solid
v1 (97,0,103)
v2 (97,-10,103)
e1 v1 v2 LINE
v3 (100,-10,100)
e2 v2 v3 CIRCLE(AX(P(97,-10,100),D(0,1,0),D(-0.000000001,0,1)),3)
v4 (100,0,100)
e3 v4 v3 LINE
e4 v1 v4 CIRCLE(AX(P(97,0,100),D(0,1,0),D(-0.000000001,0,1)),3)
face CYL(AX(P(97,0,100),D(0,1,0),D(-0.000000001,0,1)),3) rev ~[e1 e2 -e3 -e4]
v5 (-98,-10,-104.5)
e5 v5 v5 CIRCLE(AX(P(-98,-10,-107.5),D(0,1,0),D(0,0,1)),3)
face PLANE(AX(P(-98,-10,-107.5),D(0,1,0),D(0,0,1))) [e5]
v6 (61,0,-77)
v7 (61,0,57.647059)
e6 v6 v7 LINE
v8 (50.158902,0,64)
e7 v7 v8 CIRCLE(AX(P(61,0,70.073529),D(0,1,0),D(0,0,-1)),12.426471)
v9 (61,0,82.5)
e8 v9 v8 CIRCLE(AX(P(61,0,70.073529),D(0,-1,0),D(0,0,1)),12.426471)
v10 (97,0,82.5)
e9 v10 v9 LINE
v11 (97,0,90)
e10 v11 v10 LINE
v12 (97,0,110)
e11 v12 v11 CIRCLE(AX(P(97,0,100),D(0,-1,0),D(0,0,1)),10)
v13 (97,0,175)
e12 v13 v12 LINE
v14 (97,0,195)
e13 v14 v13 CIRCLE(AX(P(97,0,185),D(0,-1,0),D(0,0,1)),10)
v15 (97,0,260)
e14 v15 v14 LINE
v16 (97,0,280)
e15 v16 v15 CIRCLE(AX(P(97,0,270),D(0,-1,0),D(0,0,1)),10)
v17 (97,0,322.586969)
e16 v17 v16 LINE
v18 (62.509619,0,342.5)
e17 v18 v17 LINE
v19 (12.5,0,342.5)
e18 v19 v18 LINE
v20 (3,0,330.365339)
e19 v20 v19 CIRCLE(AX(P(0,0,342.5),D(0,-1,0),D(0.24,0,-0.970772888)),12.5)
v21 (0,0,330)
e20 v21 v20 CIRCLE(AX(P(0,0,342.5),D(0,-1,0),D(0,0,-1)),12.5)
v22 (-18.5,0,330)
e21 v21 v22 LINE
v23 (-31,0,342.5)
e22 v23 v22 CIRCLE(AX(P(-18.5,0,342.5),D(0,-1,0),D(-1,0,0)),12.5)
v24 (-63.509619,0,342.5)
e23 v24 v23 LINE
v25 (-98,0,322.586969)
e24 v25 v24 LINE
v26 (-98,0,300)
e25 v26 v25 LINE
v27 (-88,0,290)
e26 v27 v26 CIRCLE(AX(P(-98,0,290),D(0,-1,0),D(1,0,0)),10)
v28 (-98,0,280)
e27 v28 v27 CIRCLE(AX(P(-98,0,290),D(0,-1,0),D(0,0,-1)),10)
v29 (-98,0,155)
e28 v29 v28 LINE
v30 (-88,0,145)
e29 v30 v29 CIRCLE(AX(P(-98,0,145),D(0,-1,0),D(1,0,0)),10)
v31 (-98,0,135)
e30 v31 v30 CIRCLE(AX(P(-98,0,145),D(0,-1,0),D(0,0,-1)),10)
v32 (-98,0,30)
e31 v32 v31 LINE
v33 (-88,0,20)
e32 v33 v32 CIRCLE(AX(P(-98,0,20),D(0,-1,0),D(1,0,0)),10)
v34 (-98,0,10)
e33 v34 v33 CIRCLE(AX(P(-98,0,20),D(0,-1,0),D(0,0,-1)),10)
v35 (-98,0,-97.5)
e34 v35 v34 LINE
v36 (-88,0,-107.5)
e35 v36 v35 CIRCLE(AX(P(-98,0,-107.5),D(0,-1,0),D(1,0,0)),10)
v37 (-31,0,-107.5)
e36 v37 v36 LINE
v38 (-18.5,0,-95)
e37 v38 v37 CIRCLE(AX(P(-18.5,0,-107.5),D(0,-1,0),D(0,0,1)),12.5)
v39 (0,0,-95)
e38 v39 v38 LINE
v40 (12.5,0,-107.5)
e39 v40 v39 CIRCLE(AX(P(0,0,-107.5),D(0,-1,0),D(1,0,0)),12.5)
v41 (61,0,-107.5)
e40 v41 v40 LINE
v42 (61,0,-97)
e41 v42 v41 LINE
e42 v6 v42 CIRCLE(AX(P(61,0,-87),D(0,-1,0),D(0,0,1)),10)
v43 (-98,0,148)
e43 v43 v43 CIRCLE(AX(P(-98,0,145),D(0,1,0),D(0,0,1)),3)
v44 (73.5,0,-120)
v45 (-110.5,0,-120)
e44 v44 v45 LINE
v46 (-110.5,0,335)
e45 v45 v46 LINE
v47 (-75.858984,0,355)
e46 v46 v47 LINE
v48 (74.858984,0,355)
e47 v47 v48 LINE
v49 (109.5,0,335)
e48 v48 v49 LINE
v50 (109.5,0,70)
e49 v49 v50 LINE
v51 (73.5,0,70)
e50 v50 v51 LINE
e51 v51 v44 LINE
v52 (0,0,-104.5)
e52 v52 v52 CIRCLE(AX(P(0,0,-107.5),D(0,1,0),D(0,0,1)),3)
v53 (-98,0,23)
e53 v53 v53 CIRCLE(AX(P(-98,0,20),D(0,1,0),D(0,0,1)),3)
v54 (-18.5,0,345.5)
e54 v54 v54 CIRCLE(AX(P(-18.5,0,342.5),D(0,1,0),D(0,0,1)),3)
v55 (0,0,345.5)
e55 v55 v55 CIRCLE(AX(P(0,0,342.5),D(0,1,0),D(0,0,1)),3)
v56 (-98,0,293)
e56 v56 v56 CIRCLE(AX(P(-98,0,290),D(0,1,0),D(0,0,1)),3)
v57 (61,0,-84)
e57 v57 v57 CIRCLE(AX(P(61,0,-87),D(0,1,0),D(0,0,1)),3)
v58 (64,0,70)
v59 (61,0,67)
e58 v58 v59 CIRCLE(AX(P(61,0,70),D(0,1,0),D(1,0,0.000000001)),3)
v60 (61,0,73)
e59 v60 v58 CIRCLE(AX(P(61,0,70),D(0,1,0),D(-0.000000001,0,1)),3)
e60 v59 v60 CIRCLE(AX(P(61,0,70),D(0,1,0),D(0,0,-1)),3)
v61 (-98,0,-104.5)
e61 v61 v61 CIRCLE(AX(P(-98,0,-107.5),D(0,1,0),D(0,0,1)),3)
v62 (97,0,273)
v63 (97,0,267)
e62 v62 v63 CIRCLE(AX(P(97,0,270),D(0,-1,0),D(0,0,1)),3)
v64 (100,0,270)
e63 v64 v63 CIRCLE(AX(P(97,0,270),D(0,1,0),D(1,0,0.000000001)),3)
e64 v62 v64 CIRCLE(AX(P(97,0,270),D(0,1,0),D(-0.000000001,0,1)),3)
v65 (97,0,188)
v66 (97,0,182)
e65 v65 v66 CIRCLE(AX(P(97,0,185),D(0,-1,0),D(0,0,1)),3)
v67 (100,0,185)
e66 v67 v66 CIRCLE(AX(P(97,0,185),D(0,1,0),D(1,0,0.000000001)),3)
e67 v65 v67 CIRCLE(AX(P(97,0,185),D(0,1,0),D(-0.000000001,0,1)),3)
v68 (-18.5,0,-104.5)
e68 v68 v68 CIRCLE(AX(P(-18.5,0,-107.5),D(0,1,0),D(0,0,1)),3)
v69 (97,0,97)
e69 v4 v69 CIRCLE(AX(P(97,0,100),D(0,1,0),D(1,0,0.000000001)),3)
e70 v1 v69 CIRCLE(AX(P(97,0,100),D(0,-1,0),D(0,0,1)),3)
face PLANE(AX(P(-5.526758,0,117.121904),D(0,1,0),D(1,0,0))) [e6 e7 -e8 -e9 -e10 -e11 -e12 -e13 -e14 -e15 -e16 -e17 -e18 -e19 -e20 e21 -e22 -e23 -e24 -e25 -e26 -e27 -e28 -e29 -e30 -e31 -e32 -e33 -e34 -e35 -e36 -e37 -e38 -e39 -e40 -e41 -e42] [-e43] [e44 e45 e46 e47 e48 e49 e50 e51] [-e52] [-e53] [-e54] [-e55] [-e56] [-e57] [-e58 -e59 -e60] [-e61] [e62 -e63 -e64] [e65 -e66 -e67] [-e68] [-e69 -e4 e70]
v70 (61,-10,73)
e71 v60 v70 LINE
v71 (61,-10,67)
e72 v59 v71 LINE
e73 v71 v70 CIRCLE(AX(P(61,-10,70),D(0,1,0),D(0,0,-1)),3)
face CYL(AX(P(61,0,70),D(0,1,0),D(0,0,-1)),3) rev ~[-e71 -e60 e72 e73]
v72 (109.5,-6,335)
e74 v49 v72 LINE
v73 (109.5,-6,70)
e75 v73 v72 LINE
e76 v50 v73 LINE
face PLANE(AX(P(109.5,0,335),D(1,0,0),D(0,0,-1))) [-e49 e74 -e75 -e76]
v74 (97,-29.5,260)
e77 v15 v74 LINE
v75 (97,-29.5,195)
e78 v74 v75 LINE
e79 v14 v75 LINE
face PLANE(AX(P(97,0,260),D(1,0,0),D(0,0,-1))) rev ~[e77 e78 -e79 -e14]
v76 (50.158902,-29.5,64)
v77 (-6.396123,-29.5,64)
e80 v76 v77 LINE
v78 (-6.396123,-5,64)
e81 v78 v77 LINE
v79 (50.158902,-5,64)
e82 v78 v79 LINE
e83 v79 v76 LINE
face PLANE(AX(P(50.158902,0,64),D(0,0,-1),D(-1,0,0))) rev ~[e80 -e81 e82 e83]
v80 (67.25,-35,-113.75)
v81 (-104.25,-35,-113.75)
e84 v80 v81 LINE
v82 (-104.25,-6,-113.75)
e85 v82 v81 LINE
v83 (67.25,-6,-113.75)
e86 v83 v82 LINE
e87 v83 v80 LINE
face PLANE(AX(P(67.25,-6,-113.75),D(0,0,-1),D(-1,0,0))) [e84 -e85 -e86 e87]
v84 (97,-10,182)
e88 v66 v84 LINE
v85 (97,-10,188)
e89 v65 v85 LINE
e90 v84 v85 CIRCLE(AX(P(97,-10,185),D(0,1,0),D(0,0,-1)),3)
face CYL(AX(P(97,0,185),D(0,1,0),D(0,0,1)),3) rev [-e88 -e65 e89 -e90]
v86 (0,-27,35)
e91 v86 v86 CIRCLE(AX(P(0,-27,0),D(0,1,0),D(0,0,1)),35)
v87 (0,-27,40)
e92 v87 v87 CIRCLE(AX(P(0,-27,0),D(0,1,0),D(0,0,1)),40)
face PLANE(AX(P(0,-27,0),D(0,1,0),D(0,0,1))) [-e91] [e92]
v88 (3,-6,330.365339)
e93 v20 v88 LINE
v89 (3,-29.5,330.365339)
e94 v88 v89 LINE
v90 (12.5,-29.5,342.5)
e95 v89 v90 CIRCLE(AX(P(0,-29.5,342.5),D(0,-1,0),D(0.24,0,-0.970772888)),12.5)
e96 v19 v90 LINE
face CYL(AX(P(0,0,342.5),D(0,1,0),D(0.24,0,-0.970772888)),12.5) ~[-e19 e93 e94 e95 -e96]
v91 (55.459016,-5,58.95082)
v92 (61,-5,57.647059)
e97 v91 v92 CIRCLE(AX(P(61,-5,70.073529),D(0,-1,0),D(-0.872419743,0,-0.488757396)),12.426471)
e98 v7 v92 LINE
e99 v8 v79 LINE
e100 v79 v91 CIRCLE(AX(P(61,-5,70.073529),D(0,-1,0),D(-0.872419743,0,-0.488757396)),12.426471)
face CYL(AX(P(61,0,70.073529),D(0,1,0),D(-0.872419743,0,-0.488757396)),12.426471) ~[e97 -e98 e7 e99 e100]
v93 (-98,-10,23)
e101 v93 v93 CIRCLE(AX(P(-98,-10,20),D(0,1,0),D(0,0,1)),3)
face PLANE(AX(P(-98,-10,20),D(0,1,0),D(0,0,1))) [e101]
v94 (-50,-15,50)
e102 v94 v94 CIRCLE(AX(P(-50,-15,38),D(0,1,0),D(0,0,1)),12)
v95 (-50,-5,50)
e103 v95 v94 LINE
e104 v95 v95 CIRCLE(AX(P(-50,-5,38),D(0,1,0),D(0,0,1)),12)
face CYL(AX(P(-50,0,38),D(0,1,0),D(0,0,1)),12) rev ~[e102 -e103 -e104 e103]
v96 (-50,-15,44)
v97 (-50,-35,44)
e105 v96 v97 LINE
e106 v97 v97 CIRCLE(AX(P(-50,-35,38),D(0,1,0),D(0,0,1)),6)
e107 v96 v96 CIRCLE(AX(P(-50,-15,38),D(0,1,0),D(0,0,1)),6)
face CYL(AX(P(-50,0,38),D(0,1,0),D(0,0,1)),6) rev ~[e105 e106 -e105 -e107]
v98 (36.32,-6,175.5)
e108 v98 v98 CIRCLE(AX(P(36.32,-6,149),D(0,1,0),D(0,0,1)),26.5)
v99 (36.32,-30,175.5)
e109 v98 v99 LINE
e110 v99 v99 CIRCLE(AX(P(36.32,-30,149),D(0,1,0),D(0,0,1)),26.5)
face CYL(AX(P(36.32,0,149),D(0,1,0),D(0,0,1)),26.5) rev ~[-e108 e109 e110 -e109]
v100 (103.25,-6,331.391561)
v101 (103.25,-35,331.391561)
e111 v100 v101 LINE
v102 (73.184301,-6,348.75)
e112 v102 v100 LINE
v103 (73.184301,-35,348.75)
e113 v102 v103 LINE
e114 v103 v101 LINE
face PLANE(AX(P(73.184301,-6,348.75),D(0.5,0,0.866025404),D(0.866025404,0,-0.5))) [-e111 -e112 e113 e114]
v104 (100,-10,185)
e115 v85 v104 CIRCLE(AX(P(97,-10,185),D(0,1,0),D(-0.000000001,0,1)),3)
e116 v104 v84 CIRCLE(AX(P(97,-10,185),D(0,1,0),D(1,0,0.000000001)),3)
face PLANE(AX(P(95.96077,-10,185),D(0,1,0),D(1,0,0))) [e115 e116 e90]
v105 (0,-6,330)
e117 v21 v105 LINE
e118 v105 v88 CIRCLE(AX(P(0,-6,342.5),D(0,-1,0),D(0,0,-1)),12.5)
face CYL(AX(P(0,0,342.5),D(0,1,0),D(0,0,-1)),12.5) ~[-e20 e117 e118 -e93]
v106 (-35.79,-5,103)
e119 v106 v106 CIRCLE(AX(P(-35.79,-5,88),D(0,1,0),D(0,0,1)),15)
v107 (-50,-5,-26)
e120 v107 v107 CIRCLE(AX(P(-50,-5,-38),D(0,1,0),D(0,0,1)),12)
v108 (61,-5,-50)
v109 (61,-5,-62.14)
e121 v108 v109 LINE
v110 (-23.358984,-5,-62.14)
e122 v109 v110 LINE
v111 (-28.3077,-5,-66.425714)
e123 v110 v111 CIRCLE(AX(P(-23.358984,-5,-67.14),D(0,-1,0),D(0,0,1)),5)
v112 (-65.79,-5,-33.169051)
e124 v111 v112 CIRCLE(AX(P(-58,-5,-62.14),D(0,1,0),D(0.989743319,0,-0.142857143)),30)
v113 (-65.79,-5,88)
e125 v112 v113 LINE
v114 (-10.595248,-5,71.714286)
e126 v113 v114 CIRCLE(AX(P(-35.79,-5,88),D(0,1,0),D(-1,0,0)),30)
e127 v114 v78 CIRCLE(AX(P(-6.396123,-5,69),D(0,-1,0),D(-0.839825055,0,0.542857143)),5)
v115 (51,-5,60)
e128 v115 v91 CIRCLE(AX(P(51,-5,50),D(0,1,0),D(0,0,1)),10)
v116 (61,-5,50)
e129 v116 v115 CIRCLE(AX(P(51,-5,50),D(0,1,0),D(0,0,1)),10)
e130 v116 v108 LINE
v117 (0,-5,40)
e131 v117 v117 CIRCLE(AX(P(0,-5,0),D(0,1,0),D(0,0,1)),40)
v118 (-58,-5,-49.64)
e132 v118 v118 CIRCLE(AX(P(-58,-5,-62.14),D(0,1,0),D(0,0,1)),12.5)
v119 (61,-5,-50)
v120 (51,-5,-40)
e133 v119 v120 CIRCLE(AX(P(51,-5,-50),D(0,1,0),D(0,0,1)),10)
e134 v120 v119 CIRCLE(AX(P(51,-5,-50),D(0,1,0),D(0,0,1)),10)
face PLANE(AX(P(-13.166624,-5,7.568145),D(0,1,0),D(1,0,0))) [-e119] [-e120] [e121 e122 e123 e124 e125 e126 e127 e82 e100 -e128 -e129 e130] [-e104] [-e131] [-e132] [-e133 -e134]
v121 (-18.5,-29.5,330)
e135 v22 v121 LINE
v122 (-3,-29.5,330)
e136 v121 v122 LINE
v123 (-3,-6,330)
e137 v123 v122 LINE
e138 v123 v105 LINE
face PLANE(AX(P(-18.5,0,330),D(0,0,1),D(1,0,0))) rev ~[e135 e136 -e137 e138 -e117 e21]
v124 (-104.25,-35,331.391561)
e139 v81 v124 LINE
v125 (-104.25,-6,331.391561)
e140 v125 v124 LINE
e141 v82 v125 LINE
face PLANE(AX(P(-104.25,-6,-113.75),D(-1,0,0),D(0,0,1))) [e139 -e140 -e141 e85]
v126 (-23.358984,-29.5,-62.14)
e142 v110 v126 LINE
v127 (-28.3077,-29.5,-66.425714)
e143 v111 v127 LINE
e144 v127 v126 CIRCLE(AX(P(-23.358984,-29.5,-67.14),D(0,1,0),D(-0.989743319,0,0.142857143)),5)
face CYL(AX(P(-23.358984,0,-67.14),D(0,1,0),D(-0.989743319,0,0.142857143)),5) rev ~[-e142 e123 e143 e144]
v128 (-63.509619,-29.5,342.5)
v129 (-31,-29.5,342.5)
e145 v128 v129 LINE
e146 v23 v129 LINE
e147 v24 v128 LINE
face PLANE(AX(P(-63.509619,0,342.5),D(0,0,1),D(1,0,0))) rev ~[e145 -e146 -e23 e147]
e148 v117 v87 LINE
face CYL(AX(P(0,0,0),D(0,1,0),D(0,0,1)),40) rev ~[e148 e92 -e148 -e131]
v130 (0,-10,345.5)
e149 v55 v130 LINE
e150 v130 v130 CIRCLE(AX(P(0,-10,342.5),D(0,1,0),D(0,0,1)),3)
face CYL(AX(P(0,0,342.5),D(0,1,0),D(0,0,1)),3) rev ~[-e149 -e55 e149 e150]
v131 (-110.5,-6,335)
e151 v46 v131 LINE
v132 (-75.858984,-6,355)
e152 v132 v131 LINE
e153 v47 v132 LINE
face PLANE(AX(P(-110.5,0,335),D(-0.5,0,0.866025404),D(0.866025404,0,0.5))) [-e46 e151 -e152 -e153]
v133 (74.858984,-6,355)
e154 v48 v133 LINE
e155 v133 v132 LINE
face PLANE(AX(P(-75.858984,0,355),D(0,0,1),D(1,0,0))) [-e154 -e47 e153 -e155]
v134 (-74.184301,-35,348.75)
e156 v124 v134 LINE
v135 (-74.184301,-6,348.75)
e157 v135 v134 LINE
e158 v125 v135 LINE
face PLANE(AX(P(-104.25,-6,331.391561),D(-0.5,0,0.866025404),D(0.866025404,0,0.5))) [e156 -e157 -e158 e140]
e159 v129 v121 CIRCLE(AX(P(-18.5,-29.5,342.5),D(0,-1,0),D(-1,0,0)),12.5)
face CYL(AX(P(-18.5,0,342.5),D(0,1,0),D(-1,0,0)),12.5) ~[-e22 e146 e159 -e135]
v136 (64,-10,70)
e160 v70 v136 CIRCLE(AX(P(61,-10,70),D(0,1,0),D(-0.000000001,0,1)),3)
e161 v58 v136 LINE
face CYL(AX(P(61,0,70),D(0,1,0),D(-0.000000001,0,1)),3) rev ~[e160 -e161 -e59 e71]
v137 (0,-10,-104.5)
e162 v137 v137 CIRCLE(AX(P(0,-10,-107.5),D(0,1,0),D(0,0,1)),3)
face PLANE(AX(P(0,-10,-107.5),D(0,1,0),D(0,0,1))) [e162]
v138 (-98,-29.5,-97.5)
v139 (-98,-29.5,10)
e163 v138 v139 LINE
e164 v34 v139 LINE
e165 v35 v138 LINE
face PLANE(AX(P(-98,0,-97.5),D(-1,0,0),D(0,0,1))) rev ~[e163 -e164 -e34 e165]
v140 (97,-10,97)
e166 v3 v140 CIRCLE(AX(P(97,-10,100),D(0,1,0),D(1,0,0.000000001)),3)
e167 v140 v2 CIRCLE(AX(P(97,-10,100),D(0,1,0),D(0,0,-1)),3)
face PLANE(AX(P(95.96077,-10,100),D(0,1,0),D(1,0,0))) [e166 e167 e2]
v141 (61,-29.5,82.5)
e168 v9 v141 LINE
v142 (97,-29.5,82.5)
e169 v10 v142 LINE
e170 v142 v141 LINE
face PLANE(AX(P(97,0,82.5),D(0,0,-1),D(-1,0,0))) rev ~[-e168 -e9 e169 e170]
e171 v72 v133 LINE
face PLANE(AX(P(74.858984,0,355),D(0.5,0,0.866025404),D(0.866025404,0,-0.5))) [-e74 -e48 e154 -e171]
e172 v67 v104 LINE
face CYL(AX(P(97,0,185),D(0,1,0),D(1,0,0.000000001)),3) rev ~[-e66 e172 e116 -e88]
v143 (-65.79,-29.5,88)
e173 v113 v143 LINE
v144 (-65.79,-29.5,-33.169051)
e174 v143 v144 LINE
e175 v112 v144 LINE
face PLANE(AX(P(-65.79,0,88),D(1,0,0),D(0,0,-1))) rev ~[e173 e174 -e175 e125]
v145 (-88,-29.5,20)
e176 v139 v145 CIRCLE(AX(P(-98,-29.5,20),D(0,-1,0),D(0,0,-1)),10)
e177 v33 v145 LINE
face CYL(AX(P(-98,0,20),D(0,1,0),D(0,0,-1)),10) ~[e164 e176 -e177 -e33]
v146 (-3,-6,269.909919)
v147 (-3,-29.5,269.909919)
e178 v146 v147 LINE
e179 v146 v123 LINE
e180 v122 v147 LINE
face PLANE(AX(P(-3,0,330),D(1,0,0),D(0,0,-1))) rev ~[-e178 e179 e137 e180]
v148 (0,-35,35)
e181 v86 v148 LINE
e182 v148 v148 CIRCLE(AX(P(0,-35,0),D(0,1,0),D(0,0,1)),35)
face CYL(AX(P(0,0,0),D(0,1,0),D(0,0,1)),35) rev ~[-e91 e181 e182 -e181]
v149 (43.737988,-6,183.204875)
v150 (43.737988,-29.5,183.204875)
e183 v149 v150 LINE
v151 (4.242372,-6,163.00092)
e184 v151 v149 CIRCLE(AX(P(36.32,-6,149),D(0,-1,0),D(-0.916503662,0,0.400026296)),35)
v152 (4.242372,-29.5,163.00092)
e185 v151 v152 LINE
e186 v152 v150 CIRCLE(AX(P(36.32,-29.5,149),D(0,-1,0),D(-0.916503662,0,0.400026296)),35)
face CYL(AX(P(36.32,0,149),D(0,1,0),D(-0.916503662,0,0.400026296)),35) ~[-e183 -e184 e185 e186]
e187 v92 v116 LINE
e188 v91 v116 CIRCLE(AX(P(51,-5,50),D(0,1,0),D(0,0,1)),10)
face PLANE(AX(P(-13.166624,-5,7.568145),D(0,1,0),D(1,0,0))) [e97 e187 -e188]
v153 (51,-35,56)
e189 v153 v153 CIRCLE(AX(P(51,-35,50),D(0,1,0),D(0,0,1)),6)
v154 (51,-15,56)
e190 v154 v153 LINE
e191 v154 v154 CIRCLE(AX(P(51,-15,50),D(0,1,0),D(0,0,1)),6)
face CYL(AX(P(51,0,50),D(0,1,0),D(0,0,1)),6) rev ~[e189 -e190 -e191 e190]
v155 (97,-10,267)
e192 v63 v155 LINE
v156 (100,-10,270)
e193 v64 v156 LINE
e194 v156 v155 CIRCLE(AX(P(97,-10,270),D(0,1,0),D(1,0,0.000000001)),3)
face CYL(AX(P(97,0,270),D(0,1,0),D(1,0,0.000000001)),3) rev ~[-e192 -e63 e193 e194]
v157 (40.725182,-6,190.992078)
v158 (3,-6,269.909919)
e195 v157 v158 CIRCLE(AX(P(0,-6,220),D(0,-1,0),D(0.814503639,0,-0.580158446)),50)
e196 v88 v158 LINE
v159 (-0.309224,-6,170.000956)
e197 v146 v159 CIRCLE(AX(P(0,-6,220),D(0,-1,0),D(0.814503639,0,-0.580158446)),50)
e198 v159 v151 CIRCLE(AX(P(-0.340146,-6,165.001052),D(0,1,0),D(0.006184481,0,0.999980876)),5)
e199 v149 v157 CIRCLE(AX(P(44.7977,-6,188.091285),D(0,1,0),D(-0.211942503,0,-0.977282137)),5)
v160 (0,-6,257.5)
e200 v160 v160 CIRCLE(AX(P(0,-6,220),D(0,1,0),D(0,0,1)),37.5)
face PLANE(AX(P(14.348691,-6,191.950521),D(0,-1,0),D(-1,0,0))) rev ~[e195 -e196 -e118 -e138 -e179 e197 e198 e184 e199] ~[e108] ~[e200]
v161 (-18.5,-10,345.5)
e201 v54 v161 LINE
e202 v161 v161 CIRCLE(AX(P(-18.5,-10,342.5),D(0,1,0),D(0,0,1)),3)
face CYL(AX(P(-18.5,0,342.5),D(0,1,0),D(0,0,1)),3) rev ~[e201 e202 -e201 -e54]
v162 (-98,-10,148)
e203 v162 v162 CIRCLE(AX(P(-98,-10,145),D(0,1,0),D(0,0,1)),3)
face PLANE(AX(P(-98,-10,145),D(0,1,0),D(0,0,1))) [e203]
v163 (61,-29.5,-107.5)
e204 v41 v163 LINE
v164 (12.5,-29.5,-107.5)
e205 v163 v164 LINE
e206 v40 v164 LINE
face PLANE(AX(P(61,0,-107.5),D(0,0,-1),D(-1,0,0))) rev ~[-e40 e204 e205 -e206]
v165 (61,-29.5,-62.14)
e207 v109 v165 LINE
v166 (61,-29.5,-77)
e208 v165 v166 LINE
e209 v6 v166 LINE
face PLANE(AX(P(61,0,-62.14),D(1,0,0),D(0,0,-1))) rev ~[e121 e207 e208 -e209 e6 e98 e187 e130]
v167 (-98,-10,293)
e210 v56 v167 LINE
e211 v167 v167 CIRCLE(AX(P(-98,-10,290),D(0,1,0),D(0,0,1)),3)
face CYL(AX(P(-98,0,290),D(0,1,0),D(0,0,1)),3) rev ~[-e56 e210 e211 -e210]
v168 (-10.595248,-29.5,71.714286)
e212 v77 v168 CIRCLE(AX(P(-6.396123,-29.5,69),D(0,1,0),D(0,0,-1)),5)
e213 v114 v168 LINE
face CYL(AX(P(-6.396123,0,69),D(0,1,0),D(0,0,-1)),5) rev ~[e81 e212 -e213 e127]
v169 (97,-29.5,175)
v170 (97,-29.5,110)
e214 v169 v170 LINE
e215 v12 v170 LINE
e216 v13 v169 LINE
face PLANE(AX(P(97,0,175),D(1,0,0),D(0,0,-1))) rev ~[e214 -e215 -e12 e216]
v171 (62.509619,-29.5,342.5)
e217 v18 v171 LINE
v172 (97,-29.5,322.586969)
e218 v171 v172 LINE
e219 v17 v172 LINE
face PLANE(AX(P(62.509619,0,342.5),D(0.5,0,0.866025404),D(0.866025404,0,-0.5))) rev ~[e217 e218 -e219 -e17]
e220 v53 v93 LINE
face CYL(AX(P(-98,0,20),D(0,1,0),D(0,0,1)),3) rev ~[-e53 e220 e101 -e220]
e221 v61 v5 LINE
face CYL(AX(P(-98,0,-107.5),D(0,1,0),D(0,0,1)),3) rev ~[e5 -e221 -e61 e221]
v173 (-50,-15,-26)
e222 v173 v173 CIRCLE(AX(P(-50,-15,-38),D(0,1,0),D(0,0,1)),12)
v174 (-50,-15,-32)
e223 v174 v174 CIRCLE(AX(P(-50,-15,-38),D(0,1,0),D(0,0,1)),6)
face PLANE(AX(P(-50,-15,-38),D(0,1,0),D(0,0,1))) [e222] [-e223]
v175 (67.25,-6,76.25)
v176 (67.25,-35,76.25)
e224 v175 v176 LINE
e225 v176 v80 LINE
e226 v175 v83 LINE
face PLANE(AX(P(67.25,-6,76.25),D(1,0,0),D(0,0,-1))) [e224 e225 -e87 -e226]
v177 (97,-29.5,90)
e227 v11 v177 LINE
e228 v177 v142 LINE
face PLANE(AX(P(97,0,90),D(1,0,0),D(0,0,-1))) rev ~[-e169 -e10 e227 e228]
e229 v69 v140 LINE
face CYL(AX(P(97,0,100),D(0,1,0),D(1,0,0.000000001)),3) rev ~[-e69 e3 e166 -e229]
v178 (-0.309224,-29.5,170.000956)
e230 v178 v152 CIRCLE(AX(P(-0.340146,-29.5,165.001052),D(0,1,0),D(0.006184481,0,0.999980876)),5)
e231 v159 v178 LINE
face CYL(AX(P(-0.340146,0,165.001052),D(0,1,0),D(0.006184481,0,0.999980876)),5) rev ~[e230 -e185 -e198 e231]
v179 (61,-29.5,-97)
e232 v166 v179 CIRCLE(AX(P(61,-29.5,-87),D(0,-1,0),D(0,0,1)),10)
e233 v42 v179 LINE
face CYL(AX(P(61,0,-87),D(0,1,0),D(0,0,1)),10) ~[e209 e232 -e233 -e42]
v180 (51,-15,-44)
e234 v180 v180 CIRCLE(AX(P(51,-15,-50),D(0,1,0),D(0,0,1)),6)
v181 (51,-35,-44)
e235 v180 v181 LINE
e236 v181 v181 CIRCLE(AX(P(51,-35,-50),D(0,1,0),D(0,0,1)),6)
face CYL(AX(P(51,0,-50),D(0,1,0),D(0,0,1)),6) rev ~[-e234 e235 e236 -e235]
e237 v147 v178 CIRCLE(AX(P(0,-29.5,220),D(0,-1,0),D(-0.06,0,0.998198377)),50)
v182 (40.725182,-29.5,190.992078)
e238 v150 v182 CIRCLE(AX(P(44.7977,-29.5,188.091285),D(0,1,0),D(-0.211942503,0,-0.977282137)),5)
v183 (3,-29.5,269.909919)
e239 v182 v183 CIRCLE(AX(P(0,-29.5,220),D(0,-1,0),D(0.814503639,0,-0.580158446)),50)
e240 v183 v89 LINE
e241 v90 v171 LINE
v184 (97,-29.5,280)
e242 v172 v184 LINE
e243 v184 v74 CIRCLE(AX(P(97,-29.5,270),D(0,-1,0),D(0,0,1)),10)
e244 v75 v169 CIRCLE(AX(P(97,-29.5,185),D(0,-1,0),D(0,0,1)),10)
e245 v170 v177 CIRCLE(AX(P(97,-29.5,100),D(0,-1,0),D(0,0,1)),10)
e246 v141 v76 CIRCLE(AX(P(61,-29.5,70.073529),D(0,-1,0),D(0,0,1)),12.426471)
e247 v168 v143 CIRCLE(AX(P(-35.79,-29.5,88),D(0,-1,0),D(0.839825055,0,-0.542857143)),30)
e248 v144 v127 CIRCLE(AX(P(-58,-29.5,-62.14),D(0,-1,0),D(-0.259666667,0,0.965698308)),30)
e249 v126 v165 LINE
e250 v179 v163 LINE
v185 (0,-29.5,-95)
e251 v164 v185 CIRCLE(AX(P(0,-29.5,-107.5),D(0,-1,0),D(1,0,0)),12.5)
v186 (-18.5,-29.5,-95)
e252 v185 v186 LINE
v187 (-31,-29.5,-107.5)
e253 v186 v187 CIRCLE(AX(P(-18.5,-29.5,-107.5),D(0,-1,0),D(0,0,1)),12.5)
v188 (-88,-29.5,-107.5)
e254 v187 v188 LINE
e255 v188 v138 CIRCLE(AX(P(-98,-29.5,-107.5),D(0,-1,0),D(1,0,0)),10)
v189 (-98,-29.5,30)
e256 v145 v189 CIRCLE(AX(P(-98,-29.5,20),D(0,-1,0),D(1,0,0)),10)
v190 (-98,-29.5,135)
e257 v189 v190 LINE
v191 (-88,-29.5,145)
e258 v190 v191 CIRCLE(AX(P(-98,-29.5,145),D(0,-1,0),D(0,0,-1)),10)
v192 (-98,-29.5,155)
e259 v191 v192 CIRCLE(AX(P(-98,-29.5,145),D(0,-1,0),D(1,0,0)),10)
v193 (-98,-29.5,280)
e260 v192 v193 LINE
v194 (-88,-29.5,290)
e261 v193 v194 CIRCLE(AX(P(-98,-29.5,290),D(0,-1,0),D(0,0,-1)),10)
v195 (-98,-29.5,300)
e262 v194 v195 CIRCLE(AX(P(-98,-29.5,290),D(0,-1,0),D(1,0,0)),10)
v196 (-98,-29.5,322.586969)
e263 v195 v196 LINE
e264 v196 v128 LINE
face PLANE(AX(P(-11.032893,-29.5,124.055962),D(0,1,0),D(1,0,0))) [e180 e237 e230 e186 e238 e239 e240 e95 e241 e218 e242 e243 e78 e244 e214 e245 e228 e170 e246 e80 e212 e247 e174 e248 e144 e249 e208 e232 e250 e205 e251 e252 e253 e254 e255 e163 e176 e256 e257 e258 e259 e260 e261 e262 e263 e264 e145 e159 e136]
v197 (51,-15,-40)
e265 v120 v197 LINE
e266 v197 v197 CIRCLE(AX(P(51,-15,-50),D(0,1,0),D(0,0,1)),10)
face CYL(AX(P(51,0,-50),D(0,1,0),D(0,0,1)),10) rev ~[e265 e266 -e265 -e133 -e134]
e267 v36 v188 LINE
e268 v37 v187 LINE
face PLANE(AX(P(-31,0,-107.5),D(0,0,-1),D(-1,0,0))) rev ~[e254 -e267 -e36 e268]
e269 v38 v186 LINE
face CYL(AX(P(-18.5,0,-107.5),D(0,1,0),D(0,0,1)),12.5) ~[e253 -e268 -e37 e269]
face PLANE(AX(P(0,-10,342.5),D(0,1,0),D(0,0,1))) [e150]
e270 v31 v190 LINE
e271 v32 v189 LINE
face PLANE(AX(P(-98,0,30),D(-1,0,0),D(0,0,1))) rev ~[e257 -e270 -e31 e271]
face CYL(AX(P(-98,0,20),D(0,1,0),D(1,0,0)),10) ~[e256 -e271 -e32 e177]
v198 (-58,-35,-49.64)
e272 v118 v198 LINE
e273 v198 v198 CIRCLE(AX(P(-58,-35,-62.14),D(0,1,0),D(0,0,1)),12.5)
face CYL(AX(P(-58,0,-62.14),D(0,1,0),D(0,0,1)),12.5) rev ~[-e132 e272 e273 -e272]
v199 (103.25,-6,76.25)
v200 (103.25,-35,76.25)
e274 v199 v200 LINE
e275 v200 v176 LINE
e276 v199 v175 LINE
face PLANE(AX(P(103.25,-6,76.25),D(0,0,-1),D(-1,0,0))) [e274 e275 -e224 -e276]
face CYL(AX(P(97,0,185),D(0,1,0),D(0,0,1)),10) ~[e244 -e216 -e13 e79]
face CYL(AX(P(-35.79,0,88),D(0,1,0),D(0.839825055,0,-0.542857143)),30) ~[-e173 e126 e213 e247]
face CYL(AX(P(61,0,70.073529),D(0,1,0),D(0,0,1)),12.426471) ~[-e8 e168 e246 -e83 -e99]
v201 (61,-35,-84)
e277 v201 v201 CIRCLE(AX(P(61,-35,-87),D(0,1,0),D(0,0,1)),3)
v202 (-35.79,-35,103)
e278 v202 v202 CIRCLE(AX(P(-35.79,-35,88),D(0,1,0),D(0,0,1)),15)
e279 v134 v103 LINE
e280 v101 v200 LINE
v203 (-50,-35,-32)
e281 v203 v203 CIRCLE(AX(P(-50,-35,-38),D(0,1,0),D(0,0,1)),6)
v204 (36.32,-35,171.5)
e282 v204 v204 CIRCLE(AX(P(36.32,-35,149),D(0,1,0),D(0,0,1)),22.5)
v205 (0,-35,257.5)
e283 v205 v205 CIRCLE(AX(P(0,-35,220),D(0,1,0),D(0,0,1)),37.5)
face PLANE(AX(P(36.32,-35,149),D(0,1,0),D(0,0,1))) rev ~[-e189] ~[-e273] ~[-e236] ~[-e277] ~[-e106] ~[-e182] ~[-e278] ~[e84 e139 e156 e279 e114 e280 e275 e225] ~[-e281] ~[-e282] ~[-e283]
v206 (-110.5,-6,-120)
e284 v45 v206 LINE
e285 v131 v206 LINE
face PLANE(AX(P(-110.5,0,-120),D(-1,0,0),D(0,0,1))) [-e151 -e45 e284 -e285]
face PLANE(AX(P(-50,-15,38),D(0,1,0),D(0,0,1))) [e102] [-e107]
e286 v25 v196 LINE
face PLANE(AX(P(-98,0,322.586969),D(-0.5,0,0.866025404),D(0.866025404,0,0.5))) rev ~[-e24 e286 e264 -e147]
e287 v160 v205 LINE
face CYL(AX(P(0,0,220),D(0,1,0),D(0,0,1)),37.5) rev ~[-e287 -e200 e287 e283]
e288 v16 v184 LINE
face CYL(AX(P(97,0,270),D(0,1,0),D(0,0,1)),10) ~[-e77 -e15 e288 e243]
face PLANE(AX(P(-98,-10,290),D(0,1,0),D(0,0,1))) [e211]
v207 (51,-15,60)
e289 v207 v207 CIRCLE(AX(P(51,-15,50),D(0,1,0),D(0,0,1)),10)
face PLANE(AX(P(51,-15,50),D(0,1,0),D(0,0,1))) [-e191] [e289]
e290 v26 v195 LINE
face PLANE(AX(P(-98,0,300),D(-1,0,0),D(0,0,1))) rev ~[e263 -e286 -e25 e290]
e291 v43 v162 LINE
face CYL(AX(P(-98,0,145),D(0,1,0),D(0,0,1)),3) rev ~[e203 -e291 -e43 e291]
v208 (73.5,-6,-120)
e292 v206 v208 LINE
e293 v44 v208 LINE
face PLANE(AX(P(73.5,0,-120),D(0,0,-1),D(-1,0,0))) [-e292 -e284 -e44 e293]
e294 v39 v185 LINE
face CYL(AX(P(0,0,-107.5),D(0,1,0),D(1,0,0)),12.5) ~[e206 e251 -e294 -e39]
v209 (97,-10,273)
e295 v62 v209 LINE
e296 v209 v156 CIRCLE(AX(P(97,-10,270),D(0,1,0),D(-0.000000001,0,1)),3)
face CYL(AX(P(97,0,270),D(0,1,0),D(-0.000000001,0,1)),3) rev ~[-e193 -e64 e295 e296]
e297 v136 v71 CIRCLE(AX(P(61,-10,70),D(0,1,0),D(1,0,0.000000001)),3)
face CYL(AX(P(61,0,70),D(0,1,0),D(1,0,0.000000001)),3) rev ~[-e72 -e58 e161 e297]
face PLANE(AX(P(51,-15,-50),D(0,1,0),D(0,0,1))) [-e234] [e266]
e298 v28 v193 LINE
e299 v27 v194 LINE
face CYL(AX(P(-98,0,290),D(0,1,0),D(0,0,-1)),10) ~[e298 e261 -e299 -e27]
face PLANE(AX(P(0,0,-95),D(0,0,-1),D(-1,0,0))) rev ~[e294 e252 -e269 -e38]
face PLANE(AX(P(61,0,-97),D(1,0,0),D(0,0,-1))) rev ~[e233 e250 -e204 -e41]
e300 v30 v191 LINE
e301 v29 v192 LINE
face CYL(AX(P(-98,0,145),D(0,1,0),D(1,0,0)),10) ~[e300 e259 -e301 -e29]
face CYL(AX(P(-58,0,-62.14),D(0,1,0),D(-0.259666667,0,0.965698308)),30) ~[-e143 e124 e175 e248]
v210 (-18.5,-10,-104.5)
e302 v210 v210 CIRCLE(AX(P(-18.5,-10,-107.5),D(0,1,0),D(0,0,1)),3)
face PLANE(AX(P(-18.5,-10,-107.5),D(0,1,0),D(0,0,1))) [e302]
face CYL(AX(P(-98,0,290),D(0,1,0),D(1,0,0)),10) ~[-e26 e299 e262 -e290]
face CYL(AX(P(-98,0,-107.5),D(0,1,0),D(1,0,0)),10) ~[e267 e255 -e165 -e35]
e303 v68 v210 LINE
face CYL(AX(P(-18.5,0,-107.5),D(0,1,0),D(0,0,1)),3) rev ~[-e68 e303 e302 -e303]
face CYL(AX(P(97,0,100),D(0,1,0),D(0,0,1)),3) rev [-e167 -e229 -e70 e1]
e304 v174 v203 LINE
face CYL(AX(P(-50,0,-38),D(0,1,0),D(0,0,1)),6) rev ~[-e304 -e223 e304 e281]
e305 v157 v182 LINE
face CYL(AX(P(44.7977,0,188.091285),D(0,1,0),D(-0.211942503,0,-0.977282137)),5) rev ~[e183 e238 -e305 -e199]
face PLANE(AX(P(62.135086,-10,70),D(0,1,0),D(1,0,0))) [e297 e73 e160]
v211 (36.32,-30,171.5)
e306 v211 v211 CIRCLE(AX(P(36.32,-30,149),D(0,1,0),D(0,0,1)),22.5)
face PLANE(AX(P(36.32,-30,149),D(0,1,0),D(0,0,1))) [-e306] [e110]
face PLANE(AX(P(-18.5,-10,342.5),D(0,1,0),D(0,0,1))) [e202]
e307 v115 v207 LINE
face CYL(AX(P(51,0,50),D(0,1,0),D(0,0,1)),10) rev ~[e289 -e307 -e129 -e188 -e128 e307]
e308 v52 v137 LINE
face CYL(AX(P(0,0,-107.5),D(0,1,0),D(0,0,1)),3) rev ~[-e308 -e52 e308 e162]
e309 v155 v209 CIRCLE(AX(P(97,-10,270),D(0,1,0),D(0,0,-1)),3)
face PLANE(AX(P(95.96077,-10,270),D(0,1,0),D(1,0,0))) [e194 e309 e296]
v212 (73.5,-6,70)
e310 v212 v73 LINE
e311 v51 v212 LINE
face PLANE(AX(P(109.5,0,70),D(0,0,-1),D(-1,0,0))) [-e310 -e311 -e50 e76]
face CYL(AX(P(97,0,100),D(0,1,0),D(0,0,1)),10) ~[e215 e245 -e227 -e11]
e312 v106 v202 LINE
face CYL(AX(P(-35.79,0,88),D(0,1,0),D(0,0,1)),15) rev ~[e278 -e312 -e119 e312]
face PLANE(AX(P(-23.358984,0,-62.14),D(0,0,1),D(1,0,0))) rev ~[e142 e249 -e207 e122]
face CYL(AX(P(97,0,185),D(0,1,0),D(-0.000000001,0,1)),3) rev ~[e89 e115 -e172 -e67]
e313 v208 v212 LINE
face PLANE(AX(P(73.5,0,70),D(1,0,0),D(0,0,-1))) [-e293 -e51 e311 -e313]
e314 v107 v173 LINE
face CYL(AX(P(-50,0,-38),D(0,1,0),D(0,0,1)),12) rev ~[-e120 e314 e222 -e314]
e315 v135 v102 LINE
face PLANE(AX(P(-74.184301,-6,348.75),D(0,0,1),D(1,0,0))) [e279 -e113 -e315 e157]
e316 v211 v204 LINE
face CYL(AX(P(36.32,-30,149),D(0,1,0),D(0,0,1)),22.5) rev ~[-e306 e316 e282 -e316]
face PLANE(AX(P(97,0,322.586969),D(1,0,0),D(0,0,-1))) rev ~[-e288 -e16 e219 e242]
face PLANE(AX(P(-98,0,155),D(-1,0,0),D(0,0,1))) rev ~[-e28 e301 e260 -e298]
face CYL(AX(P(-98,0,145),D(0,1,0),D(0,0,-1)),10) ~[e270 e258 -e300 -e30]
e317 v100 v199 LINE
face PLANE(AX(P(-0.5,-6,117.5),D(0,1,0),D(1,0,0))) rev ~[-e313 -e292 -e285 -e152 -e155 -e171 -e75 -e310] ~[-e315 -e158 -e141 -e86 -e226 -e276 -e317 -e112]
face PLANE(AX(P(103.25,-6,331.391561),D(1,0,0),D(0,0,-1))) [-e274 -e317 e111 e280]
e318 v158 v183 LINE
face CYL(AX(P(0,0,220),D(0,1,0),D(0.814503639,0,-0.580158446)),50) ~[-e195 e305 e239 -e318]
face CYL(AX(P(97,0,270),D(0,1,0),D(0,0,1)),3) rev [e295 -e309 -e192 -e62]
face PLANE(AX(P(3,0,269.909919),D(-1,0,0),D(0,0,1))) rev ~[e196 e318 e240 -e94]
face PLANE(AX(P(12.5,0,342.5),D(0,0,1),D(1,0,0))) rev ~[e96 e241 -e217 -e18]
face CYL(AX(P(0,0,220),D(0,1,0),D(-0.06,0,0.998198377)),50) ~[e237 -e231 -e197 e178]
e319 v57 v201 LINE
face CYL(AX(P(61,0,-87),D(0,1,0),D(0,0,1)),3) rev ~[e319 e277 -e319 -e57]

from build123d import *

# Parameters (mm, degrees)
SKETCH1_R           = 3
SKETCH1_R_2         = 12.5
SKETCH1_R_3         = 6
SKETCH1_R_4         = 37.5
SKETCH1_R_5         = 26.5
SKETCH1_R_6         = 35
BOSS_EXTRUDE1_DEPTH = 35
SKETCH1_6_R         = 6
SKETCH1_6_R_2       = 12.5
SKETCH1_6_R_3       = 35
CUT_EXTRUDE1_DEPTH  = 5
SKETCH1_7_R         = 15
CUT_EXTRUDE2_DEPTH  = 374.443770868
SKETCH1_8_R         = 40
SKETCH1_8_R_2       = 35
CUT_EXTRUDE3_DEPTH  = 27
BOSS_EXTRUDE2_START = -10
SKETCH1_10_R        = 3
BOSS_EXTRUDE2_DEPTH = 25
SKETCH1_11_R        = 10
SKETCH1_11_R_2      = 6
SKETCH1_11_R_3      = 12
CUT_EXTRUDE4_DEPTH  = 15
CUT_EXTRUDE6_DEPTH  = 29.5
BOSS_EXTRUDE3_START = -30
SKETCH1_15_R        = 26.5
SKETCH1_15_R_2      = 22.5
BOSS_EXTRUDE3_DEPTH = 5
SKETCH1_16_R        = 26.5
SKETCH1_16_R_2      = 37.5
CUT_EXTRUDE7_DEPTH  = 6
CUT_EXTRUDE8_DEPTH  = 10
CUT_EXTRUDE9_START  = -6
SKETCH2_OUTSIDE_W   = 326.928
SKETCH2_OUTSIDE_H   = 581.928
CUT_EXTRUDE9_DEPTH  = 368.443770868


with BuildPart() as part:
    # Sketch1 → Boss-Extrude1 (new body)
    with BuildSketch(Plane(origin=(0, 0, 0), x_dir=(1, 0, 0), z_dir=(0, 1, 0))):
        Polygon((73.5, 120), (-110.5, 120), (-110.5, -335), (-75.858983849, -355), (74.858983849, -355), (109.5, -335), (109.5, -70), (73.5, -70), align=None)
        with Locations(Location((0, -342.5, 0), (0, 0, 270))):
            Circle(SKETCH1_R, mode=Mode.SUBTRACT)
        with Locations(Location((-18.5, -342.5, 0), (0, 0, 270))):
            Circle(SKETCH1_R, mode=Mode.SUBTRACT)
        with Locations(Location((-98, -290, 0), (0, 0, 270))):
            Circle(SKETCH1_R, mode=Mode.SUBTRACT)
        with Locations(Location((-98, -145, 0), (0, 0, 270))):
            Circle(SKETCH1_R, mode=Mode.SUBTRACT)
        with BuildLine():
            ThreePointArc((97, -273), (94, -270), (97, -267))
            Line((97, -267), (97, -273))
        make_face(mode=Mode.SUBTRACT)
        with BuildLine():
            ThreePointArc((97, -188), (94, -185), (97, -182))
            Line((97, -182), (97, -188))
        make_face(mode=Mode.SUBTRACT)
        with BuildLine():
            ThreePointArc((97, -103), (94, -100), (97, -97))
            Line((97, -97), (97, -103))
        make_face(mode=Mode.SUBTRACT)
        with Locations(Location((-98, -20, 0), (0, 0, 270))):
            Circle(SKETCH1_R, mode=Mode.SUBTRACT)
        with Locations(Location((-98, 107.5, 0), (0, 0, 270))):
            Circle(SKETCH1_R, mode=Mode.SUBTRACT)
        with Locations(Location((-58, 62.14, 0), (0, 0, 270))):
            Circle(SKETCH1_R_2, mode=Mode.SUBTRACT)
        with Locations(Location((-18.5, 107.5, 0), (0, 0, 270))):
            Circle(SKETCH1_R, mode=Mode.SUBTRACT)
        with Locations(Location((51, -50, 0), (0, 0, 270))):
            Circle(SKETCH1_R_3, mode=Mode.SUBTRACT)
        with Locations(Location((0, 107.5, 0), (0, 0, 270))):
            Circle(SKETCH1_R, mode=Mode.SUBTRACT)
        with Locations(Location((51, 50, 0), (0, 0, 270))):
            Circle(SKETCH1_R_3, mode=Mode.SUBTRACT)
        with Locations(Location((61, 87, 0), (0, 0, 270))):
            Circle(SKETCH1_R, mode=Mode.SUBTRACT)
        with Locations(Location((0, -220, 0), (0, 0, 270))):
            Circle(SKETCH1_R_4, mode=Mode.SUBTRACT)
        with Locations(Location((36.32, -149, 0), (0, 0, 270))):
            Circle(SKETCH1_R_5, mode=Mode.SUBTRACT)
        with Locations(Location((0, 0, 0), (0, 0, 270))):
            Circle(SKETCH1_R_6, mode=Mode.SUBTRACT)
        with Locations(Location((-50, 38, 0), (0, 0, 270))):
            Circle(SKETCH1_R_3, mode=Mode.SUBTRACT)
        with Locations(Location((-50, -38, 0), (0, 0, 270))):
            Circle(SKETCH1_R_3, mode=Mode.SUBTRACT)
    extrude(amount=-BOSS_EXTRUDE1_DEPTH)

    # Sketch1<6> → Cut-Extrude1 (cut)
    with BuildSketch(Plane(origin=(0, 0, 0), x_dir=(1, 0, 0), z_dir=(0, 1, 0))):
        with BuildLine():
            Line((61, 62.14), (-23.358983849, 62.14))
            ThreePointArc((-23.358983849, 62.14), (-26.632252202, 63.36035527), (-28.307700442, 66.425714286))
            ThreePointArc((-28.307700442, 66.425714286), (-77.910527335, 84.580385497), (-65.79, 33.169050758))
            Line((-65.79, 33.169050758), (-65.79, -88))
            ThreePointArc((-65.79, -88), (-27.300080954, -116.773621159), (-10.59524836, -71.714285714))
            ThreePointArc((-10.59524836, -71.714285714), (-10.787673415, -66.609542781), (-6.396123087, -64))
            Line((-6.396123087, -64), (50.158901727, -64))
            ThreePointArc((50.158901727, -64), (54.717300076, -59.35229567), (61, -57.647058824))
            Line((61, -57.647058824), (61, 62.14))
        make_face()
        with Locations(Location((51, 50, 0), (0, 0, 270))):
            Circle(SKETCH1_6_R, mode=Mode.SUBTRACT)
        with Locations(Location((-58, 62.14, 0), (0, 0, 270))):
            Circle(SKETCH1_6_R_2, mode=Mode.SUBTRACT)
        with Locations(Location((51, -50, 0), (0, 0, 270))):
            Circle(SKETCH1_6_R, mode=Mode.SUBTRACT)
        with Locations(Location((0, 0, 0), (0, 0, 270))):
            Circle(SKETCH1_6_R_3, mode=Mode.SUBTRACT)
        with Locations(Location((-50, 38, 0), (0, 0, 270))):
            Circle(SKETCH1_6_R, mode=Mode.SUBTRACT)
        with Locations(Location((-50, -38, 0), (0, 0, 270))):
            Circle(SKETCH1_6_R, mode=Mode.SUBTRACT)
    extrude(amount=-CUT_EXTRUDE1_DEPTH, mode=Mode.SUBTRACT)

    # Sketch1<7> → Cut-Extrude2 (cut, through all)
    with BuildSketch(Plane(origin=(0, 0, 0), x_dir=(1, 0, 0), z_dir=(0, 1, 0))):
        with Locations(Location((-35.79, -88, 0), (0, 0, 270))):
            Circle(SKETCH1_7_R)
    extrude(amount=-CUT_EXTRUDE2_DEPTH, mode=Mode.SUBTRACT)

    # Sketch1<8> → Cut-Extrude3 (cut)
    with BuildSketch(Plane(origin=(0, 0, 0), x_dir=(1, 0, 0), z_dir=(0, 1, 0))):
        with Locations(Location((0, 0, 0), (0, 0, 270))):
            Circle(SKETCH1_8_R)
        with Locations(Location((0, 0, 0), (0, 0, 270))):
            Circle(SKETCH1_8_R_2, mode=Mode.SUBTRACT)
    extrude(amount=-CUT_EXTRUDE3_DEPTH, mode=Mode.SUBTRACT)

    # Sketch1<10> → Boss-Extrude2 (add)
    with BuildSketch(Plane(origin=(0, 0, 0), x_dir=(1, 0, 0), z_dir=(0, 1, 0)).offset(BOSS_EXTRUDE2_START)):
        with Locations(Location((0, 107.5, 0), (0, 0, 270))):
            Circle(SKETCH1_10_R)
        with Locations(Location((-18.5, 107.5, 0), (0, 0, 270))):
            Circle(SKETCH1_10_R)
        with Locations(Location((-98, 107.5, 0), (0, 0, 270))):
            Circle(SKETCH1_10_R)
        with Locations(Location((-98, -20, 0), (0, 0, 270))):
            Circle(SKETCH1_10_R)
        with BuildLine():
            Line((97, -103), (97, -97))
            ThreePointArc((97, -97), (94, -100), (97, -103))
        make_face()
        with BuildLine():
            Line((97, -188), (97, -182))
            ThreePointArc((97, -182), (94, -185), (97, -188))
        make_face()
        with Locations(Location((-98, -145, 0), (0, 0, 270))):
            Circle(SKETCH1_10_R)
        with BuildLine():
            Line((97, -273), (97, -267))
            ThreePointArc((97, -267), (94, -270), (97, -273))
        make_face()
        with Locations(Location((-98, -290, 0), (0, 0, 270))):
            Circle(SKETCH1_10_R)
        with Locations(Location((0, -342.5, 0), (0, 0, 270))):
            Circle(SKETCH1_10_R)
        with Locations(Location((-18.5, -342.5, 0), (0, 0, 270))):
            Circle(SKETCH1_10_R)
    extrude(amount=-BOSS_EXTRUDE2_DEPTH)

    # Sketch1<11> → Cut-Extrude4 (cut)
    # profile 1 of 4: a face of its own
    with BuildSketch(Plane(origin=(0, 0, 0), x_dir=(1, 0, 0), z_dir=(0, 1, 0))):
        with Locations(Location((51, -50, 0), (0, 0, 270))):
            Circle(SKETCH1_11_R)
        with Locations(Location((51, -50, 0), (0, 0, 270))):
            Circle(SKETCH1_11_R_2, mode=Mode.SUBTRACT)
    # profile 2 of 4: a face of its own
    with BuildSketch(Plane(origin=(0, 0, 0), x_dir=(1, 0, 0), z_dir=(0, 1, 0))):
        with Locations(Location((51, 50, 0), (0, 0, 270))):
            Circle(SKETCH1_11_R)
        with Locations(Location((51, 50, 0), (0, 0, 270))):
            Circle(SKETCH1_11_R_2, mode=Mode.SUBTRACT)
    # profile 3 of 4: a face of its own
    with BuildSketch(Plane(origin=(0, 0, 0), x_dir=(1, 0, 0), z_dir=(0, 1, 0))):
        with Locations(Location((-50, 38, 0), (0, 0, 270))):
            Circle(SKETCH1_11_R_3)
        with Locations(Location((-50, 38, 0), (0, 0, 270))):
            Circle(SKETCH1_11_R_2, mode=Mode.SUBTRACT)
    # profile 4 of 4: a face of its own
    with BuildSketch(Plane(origin=(0, 0, 0), x_dir=(1, 0, 0), z_dir=(0, 1, 0))):
        with Locations(Location((-50, -38, 0), (0, 0, 270))):
            Circle(SKETCH1_11_R_3)
        with Locations(Location((-50, -38, 0), (0, 0, 270))):
            Circle(SKETCH1_11_R_2, mode=Mode.SUBTRACT)
    extrude(amount=-CUT_EXTRUDE4_DEPTH, mode=Mode.SUBTRACT)

    # Sketch1<13> → Cut-Extrude6 (cut)
    with BuildSketch(Plane(origin=(0, 0, 0), x_dir=(1, 0, 0), z_dir=(0, 1, 0))):
        with BuildLine():
            Line((61, 97), (61, 107.5))
            Line((61, 107.5), (12.5, 107.5))
            ThreePointArc((12.5, 107.5), (8.838834765, 98.661165235), (0, 95))
            Line((0, 95), (-18.5, 95))
            ThreePointArc((-18.5, 95), (-27.338834765, 98.661165235), (-31, 107.5))
            Line((-31, 107.5), (-88, 107.5))
            ThreePointArc((-88, 107.5), (-90.928932188, 100.428932188), (-98, 97.5))
            Line((-98, 97.5), (-98, -10))
            ThreePointArc((-98, -10), (-90.928932188, -12.928932188), (-88, -20))
            ThreePointArc((-88, -20), (-90.928932188, -27.071067812), (-98, -30))
            Line((-98, -30), (-98, -135))
            ThreePointArc((-98, -135), (-90.928932188, -137.928932188), (-88, -145))
            ThreePointArc((-88, -145), (-90.928932188, -152.071067812), (-98, -155))
            Line((-98, -155), (-98, -280))
            ThreePointArc((-98, -280), (-90.928932188, -282.928932188), (-88, -290))
            ThreePointArc((-88, -290), (-90.928932188, -297.071067812), (-98, -300))
            Line((-98, -300), (-98, -322.586969212))
            Line((-98, -322.586969212), (-63.509618943, -342.5))
            Line((-63.509618943, -342.5), (-31, -342.5))
            ThreePointArc((-31, -342.5), (-27.338834765, -333.661165235), (-18.5, -330))
            Line((-18.5, -330), (-3, -330))
            Line((-3, -330), (-3, -269.909918854))
            ThreePointArc((-3, -269.909918854), (-49.981876169, -218.653874234), (-0.30922408, -170.000956204))
            ThreePointArc((-0.30922408, -170.000956204), (3.851641236, -167.726655553), (4.242371823, -163.000920347))
            ThreePointArc((4.242371823, -163.000920347), (52.259711789, -117.840321117), (43.73798762, -183.204874794))
            ThreePointArc((43.73798762, -183.204874794), (40.134538085, -186.287145885), (40.725181943, -190.992077708))
            ThreePointArc((40.725181943, -190.992077708), (45.110744804, -241.564338692), (3, -269.909918854))
            Line((3, -269.909918854), (3, -330.3653389))
            ThreePointArc((3, -330.3653389), (9.842509843, -334.794482496), (12.5, -342.5))
            Line((12.5, -342.5), (62.509618943, -342.5))
            Line((62.509618943, -342.5), (97, -322.586969212))
            Line((97, -322.586969212), (97, -280))
            ThreePointArc((97, -280), (87, -270), (97, -260))
            Line((97, -260), (97, -195))
            ThreePointArc((97, -195), (87, -185), (97, -175))
            Line((97, -175), (97, -110))
            ThreePointArc((97, -110), (87, -100), (97, -90))
            Line((97, -90), (97, -82.5))
            Line((97, -82.5), (61, -82.5))
            ThreePointArc((61, -82.5), (50.278766258, -76.356229336), (50.158901727, -64))
            Line((50.158901727, -64), (-6.396123087, -64))
            ThreePointArc((-6.396123087, -64), (-10.787673415, -66.609542781), (-10.59524836, -71.714285714))
            ThreePointArc((-10.59524836, -71.714285714), (-27.300080954, -116.773621159), (-65.79, -88))
            Line((-65.79, -88), (-65.79, 33.169050758))
            ThreePointArc((-65.79, 33.169050758), (-77.910527335, 84.580385497), (-28.307700442, 66.425714286))
            ThreePointArc((-28.307700442, 66.425714286), (-26.632252202, 63.36035527), (-23.358983849, 62.14))
            Line((-23.358983849, 62.14), (61, 62.14))
            Line((61, 62.14), (61, 77))
            ThreePointArc((61, 77), (51, 87), (61, 97))
        make_face()
    extrude(amount=-CUT_EXTRUDE6_DEPTH, mode=Mode.SUBTRACT)

    # Sketch1<15> → Boss-Extrude3 (add)
    with BuildSketch(Plane(origin=(0, 0, 0), x_dir=(1, 0, 0), z_dir=(0, 1, 0)).offset(BOSS_EXTRUDE3_START)):
        with Locations(Location((36.32, -149, 0), (0, 0, 270))):
            Circle(SKETCH1_15_R)
        with Locations(Location((36.32, -149, 0), (0, 0, 270))):
            Circle(SKETCH1_15_R_2, mode=Mode.SUBTRACT)
    extrude(amount=-BOSS_EXTRUDE3_DEPTH)

    # Sketch1<16> → Cut-Extrude7 (cut)
    # profile 1 of 2: a face of its own
    with BuildSketch(Plane(origin=(0, 0, 0), x_dir=(1, 0, 0), z_dir=(0, 1, 0))):
        with BuildLine():
            ThreePointArc((43.73798762, -183.204874794), (40.134538085, -186.287145885), (40.725181943, -190.992077708))
            ThreePointArc((40.725181943, -190.992077708), (-22.771016842, -264.513826975), (-0.30922408, -170.000956204))
            ThreePointArc((-0.30922408, -170.000956204), (3.851641236, -167.726655553), (4.242371823, -163.000920347))
            ThreePointArc((4.242371823, -163.000920347), (52.259711789, -117.840321117), (43.73798762, -183.204874794))
        make_face()
        with Locations(Location((36.32, -149, 0), (0, 0, 270))):
            Circle(SKETCH1_16_R, mode=Mode.SUBTRACT)
        with Locations(Location((0, -220, 0), (0, 0, 270))):
            Circle(SKETCH1_16_R_2, mode=Mode.SUBTRACT)
    # profile 2 of 2: a face of its own
    with BuildSketch(Plane(origin=(0, 0, 0), x_dir=(1, 0, 0), z_dir=(0, 1, 0))):
        with BuildLine():
            ThreePointArc((0, -330), (1.511081774, -330.091670867), (3, -330.3653389))
            Line((3, -330.3653389), (3, -269.909918854))
            ThreePointArc((3, -269.909918854), (0, -270), (-3, -269.909918854))
            Line((-3, -269.909918854), (-3, -330))
            Line((-3, -330), (0, -330))
        make_face()
    extrude(amount=-CUT_EXTRUDE7_DEPTH, mode=Mode.SUBTRACT)

    # Sketch1<17> → Cut-Extrude8 (cut)
    with BuildSketch(Plane(origin=(0, 0, 0), x_dir=(1, 0, 0), z_dir=(0, 1, 0))):
        with BuildLine():
            ThreePointArc((100, -100), (99.121320344, -97.878679656), (97, -97))
            Line((97, -97), (97, -103))
            ThreePointArc((97, -103), (99.121320344, -102.121320344), (100, -100))
        make_face()
        with BuildLine():
            Line((97, -103), (97, -97))
            ThreePointArc((97, -97), (94, -100), (97, -103))
        make_face()
        with BuildLine():
            ThreePointArc((100, -185), (99.121320344, -182.878679656), (97, -182))
            Line((97, -182), (97, -188))
            ThreePointArc((97, -188), (99.121320344, -187.121320344), (100, -185))
        make_face()
        with BuildLine():
            Line((97, -188), (97, -182))
            ThreePointArc((97, -182), (94, -185), (97, -188))
        make_face()
        with BuildLine():
            ThreePointArc((100, -270), (99.121320344, -267.878679656), (97, -267))
            Line((97, -267), (97, -273))
            ThreePointArc((97, -273), (99.121320344, -272.121320344), (100, -270))
        make_face()
        with BuildLine():
            Line((97, -273), (97, -267))
            ThreePointArc((97, -267), (94, -270), (97, -273))
        make_face()
        with BuildLine():
            ThreePointArc((64, -70), (63.121320344, -67.878679656), (61, -67))
            Line((61, -67), (61, -73))
            ThreePointArc((61, -73), (63.121320344, -72.121320344), (64, -70))
        make_face()
        with BuildLine():
            Line((61, -73), (61, -67))
            ThreePointArc((61, -67), (58, -70), (61, -73))
        make_face()
    extrude(amount=-CUT_EXTRUDE8_DEPTH, mode=Mode.SUBTRACT)

    # Sketch2 outside → Cut-Extrude9 (cut, through all)
    with BuildSketch(Plane(origin=(0, 0, 0), x_dir=(1, 0, 0), z_dir=(0, 1, 0)).offset(CUT_EXTRUDE9_START)):
        with Locations((-0.5, -117.5)):
            Rectangle(SKETCH2_OUTSIDE_W, SKETCH2_OUTSIDE_H)
        Polygon((-104.25, 113.75), (-104.25, -331.391560818), (-74.184301396, -348.75), (73.184301396, -348.75), (103.25, -331.391560818), (103.25, -76.25), (67.25, -76.25), (67.25, 113.75), align=None, mode=Mode.SUBTRACT)
    extrude(amount=-CUT_EXTRUDE9_DEPTH, mode=Mode.SUBTRACT)


solid = part.part
